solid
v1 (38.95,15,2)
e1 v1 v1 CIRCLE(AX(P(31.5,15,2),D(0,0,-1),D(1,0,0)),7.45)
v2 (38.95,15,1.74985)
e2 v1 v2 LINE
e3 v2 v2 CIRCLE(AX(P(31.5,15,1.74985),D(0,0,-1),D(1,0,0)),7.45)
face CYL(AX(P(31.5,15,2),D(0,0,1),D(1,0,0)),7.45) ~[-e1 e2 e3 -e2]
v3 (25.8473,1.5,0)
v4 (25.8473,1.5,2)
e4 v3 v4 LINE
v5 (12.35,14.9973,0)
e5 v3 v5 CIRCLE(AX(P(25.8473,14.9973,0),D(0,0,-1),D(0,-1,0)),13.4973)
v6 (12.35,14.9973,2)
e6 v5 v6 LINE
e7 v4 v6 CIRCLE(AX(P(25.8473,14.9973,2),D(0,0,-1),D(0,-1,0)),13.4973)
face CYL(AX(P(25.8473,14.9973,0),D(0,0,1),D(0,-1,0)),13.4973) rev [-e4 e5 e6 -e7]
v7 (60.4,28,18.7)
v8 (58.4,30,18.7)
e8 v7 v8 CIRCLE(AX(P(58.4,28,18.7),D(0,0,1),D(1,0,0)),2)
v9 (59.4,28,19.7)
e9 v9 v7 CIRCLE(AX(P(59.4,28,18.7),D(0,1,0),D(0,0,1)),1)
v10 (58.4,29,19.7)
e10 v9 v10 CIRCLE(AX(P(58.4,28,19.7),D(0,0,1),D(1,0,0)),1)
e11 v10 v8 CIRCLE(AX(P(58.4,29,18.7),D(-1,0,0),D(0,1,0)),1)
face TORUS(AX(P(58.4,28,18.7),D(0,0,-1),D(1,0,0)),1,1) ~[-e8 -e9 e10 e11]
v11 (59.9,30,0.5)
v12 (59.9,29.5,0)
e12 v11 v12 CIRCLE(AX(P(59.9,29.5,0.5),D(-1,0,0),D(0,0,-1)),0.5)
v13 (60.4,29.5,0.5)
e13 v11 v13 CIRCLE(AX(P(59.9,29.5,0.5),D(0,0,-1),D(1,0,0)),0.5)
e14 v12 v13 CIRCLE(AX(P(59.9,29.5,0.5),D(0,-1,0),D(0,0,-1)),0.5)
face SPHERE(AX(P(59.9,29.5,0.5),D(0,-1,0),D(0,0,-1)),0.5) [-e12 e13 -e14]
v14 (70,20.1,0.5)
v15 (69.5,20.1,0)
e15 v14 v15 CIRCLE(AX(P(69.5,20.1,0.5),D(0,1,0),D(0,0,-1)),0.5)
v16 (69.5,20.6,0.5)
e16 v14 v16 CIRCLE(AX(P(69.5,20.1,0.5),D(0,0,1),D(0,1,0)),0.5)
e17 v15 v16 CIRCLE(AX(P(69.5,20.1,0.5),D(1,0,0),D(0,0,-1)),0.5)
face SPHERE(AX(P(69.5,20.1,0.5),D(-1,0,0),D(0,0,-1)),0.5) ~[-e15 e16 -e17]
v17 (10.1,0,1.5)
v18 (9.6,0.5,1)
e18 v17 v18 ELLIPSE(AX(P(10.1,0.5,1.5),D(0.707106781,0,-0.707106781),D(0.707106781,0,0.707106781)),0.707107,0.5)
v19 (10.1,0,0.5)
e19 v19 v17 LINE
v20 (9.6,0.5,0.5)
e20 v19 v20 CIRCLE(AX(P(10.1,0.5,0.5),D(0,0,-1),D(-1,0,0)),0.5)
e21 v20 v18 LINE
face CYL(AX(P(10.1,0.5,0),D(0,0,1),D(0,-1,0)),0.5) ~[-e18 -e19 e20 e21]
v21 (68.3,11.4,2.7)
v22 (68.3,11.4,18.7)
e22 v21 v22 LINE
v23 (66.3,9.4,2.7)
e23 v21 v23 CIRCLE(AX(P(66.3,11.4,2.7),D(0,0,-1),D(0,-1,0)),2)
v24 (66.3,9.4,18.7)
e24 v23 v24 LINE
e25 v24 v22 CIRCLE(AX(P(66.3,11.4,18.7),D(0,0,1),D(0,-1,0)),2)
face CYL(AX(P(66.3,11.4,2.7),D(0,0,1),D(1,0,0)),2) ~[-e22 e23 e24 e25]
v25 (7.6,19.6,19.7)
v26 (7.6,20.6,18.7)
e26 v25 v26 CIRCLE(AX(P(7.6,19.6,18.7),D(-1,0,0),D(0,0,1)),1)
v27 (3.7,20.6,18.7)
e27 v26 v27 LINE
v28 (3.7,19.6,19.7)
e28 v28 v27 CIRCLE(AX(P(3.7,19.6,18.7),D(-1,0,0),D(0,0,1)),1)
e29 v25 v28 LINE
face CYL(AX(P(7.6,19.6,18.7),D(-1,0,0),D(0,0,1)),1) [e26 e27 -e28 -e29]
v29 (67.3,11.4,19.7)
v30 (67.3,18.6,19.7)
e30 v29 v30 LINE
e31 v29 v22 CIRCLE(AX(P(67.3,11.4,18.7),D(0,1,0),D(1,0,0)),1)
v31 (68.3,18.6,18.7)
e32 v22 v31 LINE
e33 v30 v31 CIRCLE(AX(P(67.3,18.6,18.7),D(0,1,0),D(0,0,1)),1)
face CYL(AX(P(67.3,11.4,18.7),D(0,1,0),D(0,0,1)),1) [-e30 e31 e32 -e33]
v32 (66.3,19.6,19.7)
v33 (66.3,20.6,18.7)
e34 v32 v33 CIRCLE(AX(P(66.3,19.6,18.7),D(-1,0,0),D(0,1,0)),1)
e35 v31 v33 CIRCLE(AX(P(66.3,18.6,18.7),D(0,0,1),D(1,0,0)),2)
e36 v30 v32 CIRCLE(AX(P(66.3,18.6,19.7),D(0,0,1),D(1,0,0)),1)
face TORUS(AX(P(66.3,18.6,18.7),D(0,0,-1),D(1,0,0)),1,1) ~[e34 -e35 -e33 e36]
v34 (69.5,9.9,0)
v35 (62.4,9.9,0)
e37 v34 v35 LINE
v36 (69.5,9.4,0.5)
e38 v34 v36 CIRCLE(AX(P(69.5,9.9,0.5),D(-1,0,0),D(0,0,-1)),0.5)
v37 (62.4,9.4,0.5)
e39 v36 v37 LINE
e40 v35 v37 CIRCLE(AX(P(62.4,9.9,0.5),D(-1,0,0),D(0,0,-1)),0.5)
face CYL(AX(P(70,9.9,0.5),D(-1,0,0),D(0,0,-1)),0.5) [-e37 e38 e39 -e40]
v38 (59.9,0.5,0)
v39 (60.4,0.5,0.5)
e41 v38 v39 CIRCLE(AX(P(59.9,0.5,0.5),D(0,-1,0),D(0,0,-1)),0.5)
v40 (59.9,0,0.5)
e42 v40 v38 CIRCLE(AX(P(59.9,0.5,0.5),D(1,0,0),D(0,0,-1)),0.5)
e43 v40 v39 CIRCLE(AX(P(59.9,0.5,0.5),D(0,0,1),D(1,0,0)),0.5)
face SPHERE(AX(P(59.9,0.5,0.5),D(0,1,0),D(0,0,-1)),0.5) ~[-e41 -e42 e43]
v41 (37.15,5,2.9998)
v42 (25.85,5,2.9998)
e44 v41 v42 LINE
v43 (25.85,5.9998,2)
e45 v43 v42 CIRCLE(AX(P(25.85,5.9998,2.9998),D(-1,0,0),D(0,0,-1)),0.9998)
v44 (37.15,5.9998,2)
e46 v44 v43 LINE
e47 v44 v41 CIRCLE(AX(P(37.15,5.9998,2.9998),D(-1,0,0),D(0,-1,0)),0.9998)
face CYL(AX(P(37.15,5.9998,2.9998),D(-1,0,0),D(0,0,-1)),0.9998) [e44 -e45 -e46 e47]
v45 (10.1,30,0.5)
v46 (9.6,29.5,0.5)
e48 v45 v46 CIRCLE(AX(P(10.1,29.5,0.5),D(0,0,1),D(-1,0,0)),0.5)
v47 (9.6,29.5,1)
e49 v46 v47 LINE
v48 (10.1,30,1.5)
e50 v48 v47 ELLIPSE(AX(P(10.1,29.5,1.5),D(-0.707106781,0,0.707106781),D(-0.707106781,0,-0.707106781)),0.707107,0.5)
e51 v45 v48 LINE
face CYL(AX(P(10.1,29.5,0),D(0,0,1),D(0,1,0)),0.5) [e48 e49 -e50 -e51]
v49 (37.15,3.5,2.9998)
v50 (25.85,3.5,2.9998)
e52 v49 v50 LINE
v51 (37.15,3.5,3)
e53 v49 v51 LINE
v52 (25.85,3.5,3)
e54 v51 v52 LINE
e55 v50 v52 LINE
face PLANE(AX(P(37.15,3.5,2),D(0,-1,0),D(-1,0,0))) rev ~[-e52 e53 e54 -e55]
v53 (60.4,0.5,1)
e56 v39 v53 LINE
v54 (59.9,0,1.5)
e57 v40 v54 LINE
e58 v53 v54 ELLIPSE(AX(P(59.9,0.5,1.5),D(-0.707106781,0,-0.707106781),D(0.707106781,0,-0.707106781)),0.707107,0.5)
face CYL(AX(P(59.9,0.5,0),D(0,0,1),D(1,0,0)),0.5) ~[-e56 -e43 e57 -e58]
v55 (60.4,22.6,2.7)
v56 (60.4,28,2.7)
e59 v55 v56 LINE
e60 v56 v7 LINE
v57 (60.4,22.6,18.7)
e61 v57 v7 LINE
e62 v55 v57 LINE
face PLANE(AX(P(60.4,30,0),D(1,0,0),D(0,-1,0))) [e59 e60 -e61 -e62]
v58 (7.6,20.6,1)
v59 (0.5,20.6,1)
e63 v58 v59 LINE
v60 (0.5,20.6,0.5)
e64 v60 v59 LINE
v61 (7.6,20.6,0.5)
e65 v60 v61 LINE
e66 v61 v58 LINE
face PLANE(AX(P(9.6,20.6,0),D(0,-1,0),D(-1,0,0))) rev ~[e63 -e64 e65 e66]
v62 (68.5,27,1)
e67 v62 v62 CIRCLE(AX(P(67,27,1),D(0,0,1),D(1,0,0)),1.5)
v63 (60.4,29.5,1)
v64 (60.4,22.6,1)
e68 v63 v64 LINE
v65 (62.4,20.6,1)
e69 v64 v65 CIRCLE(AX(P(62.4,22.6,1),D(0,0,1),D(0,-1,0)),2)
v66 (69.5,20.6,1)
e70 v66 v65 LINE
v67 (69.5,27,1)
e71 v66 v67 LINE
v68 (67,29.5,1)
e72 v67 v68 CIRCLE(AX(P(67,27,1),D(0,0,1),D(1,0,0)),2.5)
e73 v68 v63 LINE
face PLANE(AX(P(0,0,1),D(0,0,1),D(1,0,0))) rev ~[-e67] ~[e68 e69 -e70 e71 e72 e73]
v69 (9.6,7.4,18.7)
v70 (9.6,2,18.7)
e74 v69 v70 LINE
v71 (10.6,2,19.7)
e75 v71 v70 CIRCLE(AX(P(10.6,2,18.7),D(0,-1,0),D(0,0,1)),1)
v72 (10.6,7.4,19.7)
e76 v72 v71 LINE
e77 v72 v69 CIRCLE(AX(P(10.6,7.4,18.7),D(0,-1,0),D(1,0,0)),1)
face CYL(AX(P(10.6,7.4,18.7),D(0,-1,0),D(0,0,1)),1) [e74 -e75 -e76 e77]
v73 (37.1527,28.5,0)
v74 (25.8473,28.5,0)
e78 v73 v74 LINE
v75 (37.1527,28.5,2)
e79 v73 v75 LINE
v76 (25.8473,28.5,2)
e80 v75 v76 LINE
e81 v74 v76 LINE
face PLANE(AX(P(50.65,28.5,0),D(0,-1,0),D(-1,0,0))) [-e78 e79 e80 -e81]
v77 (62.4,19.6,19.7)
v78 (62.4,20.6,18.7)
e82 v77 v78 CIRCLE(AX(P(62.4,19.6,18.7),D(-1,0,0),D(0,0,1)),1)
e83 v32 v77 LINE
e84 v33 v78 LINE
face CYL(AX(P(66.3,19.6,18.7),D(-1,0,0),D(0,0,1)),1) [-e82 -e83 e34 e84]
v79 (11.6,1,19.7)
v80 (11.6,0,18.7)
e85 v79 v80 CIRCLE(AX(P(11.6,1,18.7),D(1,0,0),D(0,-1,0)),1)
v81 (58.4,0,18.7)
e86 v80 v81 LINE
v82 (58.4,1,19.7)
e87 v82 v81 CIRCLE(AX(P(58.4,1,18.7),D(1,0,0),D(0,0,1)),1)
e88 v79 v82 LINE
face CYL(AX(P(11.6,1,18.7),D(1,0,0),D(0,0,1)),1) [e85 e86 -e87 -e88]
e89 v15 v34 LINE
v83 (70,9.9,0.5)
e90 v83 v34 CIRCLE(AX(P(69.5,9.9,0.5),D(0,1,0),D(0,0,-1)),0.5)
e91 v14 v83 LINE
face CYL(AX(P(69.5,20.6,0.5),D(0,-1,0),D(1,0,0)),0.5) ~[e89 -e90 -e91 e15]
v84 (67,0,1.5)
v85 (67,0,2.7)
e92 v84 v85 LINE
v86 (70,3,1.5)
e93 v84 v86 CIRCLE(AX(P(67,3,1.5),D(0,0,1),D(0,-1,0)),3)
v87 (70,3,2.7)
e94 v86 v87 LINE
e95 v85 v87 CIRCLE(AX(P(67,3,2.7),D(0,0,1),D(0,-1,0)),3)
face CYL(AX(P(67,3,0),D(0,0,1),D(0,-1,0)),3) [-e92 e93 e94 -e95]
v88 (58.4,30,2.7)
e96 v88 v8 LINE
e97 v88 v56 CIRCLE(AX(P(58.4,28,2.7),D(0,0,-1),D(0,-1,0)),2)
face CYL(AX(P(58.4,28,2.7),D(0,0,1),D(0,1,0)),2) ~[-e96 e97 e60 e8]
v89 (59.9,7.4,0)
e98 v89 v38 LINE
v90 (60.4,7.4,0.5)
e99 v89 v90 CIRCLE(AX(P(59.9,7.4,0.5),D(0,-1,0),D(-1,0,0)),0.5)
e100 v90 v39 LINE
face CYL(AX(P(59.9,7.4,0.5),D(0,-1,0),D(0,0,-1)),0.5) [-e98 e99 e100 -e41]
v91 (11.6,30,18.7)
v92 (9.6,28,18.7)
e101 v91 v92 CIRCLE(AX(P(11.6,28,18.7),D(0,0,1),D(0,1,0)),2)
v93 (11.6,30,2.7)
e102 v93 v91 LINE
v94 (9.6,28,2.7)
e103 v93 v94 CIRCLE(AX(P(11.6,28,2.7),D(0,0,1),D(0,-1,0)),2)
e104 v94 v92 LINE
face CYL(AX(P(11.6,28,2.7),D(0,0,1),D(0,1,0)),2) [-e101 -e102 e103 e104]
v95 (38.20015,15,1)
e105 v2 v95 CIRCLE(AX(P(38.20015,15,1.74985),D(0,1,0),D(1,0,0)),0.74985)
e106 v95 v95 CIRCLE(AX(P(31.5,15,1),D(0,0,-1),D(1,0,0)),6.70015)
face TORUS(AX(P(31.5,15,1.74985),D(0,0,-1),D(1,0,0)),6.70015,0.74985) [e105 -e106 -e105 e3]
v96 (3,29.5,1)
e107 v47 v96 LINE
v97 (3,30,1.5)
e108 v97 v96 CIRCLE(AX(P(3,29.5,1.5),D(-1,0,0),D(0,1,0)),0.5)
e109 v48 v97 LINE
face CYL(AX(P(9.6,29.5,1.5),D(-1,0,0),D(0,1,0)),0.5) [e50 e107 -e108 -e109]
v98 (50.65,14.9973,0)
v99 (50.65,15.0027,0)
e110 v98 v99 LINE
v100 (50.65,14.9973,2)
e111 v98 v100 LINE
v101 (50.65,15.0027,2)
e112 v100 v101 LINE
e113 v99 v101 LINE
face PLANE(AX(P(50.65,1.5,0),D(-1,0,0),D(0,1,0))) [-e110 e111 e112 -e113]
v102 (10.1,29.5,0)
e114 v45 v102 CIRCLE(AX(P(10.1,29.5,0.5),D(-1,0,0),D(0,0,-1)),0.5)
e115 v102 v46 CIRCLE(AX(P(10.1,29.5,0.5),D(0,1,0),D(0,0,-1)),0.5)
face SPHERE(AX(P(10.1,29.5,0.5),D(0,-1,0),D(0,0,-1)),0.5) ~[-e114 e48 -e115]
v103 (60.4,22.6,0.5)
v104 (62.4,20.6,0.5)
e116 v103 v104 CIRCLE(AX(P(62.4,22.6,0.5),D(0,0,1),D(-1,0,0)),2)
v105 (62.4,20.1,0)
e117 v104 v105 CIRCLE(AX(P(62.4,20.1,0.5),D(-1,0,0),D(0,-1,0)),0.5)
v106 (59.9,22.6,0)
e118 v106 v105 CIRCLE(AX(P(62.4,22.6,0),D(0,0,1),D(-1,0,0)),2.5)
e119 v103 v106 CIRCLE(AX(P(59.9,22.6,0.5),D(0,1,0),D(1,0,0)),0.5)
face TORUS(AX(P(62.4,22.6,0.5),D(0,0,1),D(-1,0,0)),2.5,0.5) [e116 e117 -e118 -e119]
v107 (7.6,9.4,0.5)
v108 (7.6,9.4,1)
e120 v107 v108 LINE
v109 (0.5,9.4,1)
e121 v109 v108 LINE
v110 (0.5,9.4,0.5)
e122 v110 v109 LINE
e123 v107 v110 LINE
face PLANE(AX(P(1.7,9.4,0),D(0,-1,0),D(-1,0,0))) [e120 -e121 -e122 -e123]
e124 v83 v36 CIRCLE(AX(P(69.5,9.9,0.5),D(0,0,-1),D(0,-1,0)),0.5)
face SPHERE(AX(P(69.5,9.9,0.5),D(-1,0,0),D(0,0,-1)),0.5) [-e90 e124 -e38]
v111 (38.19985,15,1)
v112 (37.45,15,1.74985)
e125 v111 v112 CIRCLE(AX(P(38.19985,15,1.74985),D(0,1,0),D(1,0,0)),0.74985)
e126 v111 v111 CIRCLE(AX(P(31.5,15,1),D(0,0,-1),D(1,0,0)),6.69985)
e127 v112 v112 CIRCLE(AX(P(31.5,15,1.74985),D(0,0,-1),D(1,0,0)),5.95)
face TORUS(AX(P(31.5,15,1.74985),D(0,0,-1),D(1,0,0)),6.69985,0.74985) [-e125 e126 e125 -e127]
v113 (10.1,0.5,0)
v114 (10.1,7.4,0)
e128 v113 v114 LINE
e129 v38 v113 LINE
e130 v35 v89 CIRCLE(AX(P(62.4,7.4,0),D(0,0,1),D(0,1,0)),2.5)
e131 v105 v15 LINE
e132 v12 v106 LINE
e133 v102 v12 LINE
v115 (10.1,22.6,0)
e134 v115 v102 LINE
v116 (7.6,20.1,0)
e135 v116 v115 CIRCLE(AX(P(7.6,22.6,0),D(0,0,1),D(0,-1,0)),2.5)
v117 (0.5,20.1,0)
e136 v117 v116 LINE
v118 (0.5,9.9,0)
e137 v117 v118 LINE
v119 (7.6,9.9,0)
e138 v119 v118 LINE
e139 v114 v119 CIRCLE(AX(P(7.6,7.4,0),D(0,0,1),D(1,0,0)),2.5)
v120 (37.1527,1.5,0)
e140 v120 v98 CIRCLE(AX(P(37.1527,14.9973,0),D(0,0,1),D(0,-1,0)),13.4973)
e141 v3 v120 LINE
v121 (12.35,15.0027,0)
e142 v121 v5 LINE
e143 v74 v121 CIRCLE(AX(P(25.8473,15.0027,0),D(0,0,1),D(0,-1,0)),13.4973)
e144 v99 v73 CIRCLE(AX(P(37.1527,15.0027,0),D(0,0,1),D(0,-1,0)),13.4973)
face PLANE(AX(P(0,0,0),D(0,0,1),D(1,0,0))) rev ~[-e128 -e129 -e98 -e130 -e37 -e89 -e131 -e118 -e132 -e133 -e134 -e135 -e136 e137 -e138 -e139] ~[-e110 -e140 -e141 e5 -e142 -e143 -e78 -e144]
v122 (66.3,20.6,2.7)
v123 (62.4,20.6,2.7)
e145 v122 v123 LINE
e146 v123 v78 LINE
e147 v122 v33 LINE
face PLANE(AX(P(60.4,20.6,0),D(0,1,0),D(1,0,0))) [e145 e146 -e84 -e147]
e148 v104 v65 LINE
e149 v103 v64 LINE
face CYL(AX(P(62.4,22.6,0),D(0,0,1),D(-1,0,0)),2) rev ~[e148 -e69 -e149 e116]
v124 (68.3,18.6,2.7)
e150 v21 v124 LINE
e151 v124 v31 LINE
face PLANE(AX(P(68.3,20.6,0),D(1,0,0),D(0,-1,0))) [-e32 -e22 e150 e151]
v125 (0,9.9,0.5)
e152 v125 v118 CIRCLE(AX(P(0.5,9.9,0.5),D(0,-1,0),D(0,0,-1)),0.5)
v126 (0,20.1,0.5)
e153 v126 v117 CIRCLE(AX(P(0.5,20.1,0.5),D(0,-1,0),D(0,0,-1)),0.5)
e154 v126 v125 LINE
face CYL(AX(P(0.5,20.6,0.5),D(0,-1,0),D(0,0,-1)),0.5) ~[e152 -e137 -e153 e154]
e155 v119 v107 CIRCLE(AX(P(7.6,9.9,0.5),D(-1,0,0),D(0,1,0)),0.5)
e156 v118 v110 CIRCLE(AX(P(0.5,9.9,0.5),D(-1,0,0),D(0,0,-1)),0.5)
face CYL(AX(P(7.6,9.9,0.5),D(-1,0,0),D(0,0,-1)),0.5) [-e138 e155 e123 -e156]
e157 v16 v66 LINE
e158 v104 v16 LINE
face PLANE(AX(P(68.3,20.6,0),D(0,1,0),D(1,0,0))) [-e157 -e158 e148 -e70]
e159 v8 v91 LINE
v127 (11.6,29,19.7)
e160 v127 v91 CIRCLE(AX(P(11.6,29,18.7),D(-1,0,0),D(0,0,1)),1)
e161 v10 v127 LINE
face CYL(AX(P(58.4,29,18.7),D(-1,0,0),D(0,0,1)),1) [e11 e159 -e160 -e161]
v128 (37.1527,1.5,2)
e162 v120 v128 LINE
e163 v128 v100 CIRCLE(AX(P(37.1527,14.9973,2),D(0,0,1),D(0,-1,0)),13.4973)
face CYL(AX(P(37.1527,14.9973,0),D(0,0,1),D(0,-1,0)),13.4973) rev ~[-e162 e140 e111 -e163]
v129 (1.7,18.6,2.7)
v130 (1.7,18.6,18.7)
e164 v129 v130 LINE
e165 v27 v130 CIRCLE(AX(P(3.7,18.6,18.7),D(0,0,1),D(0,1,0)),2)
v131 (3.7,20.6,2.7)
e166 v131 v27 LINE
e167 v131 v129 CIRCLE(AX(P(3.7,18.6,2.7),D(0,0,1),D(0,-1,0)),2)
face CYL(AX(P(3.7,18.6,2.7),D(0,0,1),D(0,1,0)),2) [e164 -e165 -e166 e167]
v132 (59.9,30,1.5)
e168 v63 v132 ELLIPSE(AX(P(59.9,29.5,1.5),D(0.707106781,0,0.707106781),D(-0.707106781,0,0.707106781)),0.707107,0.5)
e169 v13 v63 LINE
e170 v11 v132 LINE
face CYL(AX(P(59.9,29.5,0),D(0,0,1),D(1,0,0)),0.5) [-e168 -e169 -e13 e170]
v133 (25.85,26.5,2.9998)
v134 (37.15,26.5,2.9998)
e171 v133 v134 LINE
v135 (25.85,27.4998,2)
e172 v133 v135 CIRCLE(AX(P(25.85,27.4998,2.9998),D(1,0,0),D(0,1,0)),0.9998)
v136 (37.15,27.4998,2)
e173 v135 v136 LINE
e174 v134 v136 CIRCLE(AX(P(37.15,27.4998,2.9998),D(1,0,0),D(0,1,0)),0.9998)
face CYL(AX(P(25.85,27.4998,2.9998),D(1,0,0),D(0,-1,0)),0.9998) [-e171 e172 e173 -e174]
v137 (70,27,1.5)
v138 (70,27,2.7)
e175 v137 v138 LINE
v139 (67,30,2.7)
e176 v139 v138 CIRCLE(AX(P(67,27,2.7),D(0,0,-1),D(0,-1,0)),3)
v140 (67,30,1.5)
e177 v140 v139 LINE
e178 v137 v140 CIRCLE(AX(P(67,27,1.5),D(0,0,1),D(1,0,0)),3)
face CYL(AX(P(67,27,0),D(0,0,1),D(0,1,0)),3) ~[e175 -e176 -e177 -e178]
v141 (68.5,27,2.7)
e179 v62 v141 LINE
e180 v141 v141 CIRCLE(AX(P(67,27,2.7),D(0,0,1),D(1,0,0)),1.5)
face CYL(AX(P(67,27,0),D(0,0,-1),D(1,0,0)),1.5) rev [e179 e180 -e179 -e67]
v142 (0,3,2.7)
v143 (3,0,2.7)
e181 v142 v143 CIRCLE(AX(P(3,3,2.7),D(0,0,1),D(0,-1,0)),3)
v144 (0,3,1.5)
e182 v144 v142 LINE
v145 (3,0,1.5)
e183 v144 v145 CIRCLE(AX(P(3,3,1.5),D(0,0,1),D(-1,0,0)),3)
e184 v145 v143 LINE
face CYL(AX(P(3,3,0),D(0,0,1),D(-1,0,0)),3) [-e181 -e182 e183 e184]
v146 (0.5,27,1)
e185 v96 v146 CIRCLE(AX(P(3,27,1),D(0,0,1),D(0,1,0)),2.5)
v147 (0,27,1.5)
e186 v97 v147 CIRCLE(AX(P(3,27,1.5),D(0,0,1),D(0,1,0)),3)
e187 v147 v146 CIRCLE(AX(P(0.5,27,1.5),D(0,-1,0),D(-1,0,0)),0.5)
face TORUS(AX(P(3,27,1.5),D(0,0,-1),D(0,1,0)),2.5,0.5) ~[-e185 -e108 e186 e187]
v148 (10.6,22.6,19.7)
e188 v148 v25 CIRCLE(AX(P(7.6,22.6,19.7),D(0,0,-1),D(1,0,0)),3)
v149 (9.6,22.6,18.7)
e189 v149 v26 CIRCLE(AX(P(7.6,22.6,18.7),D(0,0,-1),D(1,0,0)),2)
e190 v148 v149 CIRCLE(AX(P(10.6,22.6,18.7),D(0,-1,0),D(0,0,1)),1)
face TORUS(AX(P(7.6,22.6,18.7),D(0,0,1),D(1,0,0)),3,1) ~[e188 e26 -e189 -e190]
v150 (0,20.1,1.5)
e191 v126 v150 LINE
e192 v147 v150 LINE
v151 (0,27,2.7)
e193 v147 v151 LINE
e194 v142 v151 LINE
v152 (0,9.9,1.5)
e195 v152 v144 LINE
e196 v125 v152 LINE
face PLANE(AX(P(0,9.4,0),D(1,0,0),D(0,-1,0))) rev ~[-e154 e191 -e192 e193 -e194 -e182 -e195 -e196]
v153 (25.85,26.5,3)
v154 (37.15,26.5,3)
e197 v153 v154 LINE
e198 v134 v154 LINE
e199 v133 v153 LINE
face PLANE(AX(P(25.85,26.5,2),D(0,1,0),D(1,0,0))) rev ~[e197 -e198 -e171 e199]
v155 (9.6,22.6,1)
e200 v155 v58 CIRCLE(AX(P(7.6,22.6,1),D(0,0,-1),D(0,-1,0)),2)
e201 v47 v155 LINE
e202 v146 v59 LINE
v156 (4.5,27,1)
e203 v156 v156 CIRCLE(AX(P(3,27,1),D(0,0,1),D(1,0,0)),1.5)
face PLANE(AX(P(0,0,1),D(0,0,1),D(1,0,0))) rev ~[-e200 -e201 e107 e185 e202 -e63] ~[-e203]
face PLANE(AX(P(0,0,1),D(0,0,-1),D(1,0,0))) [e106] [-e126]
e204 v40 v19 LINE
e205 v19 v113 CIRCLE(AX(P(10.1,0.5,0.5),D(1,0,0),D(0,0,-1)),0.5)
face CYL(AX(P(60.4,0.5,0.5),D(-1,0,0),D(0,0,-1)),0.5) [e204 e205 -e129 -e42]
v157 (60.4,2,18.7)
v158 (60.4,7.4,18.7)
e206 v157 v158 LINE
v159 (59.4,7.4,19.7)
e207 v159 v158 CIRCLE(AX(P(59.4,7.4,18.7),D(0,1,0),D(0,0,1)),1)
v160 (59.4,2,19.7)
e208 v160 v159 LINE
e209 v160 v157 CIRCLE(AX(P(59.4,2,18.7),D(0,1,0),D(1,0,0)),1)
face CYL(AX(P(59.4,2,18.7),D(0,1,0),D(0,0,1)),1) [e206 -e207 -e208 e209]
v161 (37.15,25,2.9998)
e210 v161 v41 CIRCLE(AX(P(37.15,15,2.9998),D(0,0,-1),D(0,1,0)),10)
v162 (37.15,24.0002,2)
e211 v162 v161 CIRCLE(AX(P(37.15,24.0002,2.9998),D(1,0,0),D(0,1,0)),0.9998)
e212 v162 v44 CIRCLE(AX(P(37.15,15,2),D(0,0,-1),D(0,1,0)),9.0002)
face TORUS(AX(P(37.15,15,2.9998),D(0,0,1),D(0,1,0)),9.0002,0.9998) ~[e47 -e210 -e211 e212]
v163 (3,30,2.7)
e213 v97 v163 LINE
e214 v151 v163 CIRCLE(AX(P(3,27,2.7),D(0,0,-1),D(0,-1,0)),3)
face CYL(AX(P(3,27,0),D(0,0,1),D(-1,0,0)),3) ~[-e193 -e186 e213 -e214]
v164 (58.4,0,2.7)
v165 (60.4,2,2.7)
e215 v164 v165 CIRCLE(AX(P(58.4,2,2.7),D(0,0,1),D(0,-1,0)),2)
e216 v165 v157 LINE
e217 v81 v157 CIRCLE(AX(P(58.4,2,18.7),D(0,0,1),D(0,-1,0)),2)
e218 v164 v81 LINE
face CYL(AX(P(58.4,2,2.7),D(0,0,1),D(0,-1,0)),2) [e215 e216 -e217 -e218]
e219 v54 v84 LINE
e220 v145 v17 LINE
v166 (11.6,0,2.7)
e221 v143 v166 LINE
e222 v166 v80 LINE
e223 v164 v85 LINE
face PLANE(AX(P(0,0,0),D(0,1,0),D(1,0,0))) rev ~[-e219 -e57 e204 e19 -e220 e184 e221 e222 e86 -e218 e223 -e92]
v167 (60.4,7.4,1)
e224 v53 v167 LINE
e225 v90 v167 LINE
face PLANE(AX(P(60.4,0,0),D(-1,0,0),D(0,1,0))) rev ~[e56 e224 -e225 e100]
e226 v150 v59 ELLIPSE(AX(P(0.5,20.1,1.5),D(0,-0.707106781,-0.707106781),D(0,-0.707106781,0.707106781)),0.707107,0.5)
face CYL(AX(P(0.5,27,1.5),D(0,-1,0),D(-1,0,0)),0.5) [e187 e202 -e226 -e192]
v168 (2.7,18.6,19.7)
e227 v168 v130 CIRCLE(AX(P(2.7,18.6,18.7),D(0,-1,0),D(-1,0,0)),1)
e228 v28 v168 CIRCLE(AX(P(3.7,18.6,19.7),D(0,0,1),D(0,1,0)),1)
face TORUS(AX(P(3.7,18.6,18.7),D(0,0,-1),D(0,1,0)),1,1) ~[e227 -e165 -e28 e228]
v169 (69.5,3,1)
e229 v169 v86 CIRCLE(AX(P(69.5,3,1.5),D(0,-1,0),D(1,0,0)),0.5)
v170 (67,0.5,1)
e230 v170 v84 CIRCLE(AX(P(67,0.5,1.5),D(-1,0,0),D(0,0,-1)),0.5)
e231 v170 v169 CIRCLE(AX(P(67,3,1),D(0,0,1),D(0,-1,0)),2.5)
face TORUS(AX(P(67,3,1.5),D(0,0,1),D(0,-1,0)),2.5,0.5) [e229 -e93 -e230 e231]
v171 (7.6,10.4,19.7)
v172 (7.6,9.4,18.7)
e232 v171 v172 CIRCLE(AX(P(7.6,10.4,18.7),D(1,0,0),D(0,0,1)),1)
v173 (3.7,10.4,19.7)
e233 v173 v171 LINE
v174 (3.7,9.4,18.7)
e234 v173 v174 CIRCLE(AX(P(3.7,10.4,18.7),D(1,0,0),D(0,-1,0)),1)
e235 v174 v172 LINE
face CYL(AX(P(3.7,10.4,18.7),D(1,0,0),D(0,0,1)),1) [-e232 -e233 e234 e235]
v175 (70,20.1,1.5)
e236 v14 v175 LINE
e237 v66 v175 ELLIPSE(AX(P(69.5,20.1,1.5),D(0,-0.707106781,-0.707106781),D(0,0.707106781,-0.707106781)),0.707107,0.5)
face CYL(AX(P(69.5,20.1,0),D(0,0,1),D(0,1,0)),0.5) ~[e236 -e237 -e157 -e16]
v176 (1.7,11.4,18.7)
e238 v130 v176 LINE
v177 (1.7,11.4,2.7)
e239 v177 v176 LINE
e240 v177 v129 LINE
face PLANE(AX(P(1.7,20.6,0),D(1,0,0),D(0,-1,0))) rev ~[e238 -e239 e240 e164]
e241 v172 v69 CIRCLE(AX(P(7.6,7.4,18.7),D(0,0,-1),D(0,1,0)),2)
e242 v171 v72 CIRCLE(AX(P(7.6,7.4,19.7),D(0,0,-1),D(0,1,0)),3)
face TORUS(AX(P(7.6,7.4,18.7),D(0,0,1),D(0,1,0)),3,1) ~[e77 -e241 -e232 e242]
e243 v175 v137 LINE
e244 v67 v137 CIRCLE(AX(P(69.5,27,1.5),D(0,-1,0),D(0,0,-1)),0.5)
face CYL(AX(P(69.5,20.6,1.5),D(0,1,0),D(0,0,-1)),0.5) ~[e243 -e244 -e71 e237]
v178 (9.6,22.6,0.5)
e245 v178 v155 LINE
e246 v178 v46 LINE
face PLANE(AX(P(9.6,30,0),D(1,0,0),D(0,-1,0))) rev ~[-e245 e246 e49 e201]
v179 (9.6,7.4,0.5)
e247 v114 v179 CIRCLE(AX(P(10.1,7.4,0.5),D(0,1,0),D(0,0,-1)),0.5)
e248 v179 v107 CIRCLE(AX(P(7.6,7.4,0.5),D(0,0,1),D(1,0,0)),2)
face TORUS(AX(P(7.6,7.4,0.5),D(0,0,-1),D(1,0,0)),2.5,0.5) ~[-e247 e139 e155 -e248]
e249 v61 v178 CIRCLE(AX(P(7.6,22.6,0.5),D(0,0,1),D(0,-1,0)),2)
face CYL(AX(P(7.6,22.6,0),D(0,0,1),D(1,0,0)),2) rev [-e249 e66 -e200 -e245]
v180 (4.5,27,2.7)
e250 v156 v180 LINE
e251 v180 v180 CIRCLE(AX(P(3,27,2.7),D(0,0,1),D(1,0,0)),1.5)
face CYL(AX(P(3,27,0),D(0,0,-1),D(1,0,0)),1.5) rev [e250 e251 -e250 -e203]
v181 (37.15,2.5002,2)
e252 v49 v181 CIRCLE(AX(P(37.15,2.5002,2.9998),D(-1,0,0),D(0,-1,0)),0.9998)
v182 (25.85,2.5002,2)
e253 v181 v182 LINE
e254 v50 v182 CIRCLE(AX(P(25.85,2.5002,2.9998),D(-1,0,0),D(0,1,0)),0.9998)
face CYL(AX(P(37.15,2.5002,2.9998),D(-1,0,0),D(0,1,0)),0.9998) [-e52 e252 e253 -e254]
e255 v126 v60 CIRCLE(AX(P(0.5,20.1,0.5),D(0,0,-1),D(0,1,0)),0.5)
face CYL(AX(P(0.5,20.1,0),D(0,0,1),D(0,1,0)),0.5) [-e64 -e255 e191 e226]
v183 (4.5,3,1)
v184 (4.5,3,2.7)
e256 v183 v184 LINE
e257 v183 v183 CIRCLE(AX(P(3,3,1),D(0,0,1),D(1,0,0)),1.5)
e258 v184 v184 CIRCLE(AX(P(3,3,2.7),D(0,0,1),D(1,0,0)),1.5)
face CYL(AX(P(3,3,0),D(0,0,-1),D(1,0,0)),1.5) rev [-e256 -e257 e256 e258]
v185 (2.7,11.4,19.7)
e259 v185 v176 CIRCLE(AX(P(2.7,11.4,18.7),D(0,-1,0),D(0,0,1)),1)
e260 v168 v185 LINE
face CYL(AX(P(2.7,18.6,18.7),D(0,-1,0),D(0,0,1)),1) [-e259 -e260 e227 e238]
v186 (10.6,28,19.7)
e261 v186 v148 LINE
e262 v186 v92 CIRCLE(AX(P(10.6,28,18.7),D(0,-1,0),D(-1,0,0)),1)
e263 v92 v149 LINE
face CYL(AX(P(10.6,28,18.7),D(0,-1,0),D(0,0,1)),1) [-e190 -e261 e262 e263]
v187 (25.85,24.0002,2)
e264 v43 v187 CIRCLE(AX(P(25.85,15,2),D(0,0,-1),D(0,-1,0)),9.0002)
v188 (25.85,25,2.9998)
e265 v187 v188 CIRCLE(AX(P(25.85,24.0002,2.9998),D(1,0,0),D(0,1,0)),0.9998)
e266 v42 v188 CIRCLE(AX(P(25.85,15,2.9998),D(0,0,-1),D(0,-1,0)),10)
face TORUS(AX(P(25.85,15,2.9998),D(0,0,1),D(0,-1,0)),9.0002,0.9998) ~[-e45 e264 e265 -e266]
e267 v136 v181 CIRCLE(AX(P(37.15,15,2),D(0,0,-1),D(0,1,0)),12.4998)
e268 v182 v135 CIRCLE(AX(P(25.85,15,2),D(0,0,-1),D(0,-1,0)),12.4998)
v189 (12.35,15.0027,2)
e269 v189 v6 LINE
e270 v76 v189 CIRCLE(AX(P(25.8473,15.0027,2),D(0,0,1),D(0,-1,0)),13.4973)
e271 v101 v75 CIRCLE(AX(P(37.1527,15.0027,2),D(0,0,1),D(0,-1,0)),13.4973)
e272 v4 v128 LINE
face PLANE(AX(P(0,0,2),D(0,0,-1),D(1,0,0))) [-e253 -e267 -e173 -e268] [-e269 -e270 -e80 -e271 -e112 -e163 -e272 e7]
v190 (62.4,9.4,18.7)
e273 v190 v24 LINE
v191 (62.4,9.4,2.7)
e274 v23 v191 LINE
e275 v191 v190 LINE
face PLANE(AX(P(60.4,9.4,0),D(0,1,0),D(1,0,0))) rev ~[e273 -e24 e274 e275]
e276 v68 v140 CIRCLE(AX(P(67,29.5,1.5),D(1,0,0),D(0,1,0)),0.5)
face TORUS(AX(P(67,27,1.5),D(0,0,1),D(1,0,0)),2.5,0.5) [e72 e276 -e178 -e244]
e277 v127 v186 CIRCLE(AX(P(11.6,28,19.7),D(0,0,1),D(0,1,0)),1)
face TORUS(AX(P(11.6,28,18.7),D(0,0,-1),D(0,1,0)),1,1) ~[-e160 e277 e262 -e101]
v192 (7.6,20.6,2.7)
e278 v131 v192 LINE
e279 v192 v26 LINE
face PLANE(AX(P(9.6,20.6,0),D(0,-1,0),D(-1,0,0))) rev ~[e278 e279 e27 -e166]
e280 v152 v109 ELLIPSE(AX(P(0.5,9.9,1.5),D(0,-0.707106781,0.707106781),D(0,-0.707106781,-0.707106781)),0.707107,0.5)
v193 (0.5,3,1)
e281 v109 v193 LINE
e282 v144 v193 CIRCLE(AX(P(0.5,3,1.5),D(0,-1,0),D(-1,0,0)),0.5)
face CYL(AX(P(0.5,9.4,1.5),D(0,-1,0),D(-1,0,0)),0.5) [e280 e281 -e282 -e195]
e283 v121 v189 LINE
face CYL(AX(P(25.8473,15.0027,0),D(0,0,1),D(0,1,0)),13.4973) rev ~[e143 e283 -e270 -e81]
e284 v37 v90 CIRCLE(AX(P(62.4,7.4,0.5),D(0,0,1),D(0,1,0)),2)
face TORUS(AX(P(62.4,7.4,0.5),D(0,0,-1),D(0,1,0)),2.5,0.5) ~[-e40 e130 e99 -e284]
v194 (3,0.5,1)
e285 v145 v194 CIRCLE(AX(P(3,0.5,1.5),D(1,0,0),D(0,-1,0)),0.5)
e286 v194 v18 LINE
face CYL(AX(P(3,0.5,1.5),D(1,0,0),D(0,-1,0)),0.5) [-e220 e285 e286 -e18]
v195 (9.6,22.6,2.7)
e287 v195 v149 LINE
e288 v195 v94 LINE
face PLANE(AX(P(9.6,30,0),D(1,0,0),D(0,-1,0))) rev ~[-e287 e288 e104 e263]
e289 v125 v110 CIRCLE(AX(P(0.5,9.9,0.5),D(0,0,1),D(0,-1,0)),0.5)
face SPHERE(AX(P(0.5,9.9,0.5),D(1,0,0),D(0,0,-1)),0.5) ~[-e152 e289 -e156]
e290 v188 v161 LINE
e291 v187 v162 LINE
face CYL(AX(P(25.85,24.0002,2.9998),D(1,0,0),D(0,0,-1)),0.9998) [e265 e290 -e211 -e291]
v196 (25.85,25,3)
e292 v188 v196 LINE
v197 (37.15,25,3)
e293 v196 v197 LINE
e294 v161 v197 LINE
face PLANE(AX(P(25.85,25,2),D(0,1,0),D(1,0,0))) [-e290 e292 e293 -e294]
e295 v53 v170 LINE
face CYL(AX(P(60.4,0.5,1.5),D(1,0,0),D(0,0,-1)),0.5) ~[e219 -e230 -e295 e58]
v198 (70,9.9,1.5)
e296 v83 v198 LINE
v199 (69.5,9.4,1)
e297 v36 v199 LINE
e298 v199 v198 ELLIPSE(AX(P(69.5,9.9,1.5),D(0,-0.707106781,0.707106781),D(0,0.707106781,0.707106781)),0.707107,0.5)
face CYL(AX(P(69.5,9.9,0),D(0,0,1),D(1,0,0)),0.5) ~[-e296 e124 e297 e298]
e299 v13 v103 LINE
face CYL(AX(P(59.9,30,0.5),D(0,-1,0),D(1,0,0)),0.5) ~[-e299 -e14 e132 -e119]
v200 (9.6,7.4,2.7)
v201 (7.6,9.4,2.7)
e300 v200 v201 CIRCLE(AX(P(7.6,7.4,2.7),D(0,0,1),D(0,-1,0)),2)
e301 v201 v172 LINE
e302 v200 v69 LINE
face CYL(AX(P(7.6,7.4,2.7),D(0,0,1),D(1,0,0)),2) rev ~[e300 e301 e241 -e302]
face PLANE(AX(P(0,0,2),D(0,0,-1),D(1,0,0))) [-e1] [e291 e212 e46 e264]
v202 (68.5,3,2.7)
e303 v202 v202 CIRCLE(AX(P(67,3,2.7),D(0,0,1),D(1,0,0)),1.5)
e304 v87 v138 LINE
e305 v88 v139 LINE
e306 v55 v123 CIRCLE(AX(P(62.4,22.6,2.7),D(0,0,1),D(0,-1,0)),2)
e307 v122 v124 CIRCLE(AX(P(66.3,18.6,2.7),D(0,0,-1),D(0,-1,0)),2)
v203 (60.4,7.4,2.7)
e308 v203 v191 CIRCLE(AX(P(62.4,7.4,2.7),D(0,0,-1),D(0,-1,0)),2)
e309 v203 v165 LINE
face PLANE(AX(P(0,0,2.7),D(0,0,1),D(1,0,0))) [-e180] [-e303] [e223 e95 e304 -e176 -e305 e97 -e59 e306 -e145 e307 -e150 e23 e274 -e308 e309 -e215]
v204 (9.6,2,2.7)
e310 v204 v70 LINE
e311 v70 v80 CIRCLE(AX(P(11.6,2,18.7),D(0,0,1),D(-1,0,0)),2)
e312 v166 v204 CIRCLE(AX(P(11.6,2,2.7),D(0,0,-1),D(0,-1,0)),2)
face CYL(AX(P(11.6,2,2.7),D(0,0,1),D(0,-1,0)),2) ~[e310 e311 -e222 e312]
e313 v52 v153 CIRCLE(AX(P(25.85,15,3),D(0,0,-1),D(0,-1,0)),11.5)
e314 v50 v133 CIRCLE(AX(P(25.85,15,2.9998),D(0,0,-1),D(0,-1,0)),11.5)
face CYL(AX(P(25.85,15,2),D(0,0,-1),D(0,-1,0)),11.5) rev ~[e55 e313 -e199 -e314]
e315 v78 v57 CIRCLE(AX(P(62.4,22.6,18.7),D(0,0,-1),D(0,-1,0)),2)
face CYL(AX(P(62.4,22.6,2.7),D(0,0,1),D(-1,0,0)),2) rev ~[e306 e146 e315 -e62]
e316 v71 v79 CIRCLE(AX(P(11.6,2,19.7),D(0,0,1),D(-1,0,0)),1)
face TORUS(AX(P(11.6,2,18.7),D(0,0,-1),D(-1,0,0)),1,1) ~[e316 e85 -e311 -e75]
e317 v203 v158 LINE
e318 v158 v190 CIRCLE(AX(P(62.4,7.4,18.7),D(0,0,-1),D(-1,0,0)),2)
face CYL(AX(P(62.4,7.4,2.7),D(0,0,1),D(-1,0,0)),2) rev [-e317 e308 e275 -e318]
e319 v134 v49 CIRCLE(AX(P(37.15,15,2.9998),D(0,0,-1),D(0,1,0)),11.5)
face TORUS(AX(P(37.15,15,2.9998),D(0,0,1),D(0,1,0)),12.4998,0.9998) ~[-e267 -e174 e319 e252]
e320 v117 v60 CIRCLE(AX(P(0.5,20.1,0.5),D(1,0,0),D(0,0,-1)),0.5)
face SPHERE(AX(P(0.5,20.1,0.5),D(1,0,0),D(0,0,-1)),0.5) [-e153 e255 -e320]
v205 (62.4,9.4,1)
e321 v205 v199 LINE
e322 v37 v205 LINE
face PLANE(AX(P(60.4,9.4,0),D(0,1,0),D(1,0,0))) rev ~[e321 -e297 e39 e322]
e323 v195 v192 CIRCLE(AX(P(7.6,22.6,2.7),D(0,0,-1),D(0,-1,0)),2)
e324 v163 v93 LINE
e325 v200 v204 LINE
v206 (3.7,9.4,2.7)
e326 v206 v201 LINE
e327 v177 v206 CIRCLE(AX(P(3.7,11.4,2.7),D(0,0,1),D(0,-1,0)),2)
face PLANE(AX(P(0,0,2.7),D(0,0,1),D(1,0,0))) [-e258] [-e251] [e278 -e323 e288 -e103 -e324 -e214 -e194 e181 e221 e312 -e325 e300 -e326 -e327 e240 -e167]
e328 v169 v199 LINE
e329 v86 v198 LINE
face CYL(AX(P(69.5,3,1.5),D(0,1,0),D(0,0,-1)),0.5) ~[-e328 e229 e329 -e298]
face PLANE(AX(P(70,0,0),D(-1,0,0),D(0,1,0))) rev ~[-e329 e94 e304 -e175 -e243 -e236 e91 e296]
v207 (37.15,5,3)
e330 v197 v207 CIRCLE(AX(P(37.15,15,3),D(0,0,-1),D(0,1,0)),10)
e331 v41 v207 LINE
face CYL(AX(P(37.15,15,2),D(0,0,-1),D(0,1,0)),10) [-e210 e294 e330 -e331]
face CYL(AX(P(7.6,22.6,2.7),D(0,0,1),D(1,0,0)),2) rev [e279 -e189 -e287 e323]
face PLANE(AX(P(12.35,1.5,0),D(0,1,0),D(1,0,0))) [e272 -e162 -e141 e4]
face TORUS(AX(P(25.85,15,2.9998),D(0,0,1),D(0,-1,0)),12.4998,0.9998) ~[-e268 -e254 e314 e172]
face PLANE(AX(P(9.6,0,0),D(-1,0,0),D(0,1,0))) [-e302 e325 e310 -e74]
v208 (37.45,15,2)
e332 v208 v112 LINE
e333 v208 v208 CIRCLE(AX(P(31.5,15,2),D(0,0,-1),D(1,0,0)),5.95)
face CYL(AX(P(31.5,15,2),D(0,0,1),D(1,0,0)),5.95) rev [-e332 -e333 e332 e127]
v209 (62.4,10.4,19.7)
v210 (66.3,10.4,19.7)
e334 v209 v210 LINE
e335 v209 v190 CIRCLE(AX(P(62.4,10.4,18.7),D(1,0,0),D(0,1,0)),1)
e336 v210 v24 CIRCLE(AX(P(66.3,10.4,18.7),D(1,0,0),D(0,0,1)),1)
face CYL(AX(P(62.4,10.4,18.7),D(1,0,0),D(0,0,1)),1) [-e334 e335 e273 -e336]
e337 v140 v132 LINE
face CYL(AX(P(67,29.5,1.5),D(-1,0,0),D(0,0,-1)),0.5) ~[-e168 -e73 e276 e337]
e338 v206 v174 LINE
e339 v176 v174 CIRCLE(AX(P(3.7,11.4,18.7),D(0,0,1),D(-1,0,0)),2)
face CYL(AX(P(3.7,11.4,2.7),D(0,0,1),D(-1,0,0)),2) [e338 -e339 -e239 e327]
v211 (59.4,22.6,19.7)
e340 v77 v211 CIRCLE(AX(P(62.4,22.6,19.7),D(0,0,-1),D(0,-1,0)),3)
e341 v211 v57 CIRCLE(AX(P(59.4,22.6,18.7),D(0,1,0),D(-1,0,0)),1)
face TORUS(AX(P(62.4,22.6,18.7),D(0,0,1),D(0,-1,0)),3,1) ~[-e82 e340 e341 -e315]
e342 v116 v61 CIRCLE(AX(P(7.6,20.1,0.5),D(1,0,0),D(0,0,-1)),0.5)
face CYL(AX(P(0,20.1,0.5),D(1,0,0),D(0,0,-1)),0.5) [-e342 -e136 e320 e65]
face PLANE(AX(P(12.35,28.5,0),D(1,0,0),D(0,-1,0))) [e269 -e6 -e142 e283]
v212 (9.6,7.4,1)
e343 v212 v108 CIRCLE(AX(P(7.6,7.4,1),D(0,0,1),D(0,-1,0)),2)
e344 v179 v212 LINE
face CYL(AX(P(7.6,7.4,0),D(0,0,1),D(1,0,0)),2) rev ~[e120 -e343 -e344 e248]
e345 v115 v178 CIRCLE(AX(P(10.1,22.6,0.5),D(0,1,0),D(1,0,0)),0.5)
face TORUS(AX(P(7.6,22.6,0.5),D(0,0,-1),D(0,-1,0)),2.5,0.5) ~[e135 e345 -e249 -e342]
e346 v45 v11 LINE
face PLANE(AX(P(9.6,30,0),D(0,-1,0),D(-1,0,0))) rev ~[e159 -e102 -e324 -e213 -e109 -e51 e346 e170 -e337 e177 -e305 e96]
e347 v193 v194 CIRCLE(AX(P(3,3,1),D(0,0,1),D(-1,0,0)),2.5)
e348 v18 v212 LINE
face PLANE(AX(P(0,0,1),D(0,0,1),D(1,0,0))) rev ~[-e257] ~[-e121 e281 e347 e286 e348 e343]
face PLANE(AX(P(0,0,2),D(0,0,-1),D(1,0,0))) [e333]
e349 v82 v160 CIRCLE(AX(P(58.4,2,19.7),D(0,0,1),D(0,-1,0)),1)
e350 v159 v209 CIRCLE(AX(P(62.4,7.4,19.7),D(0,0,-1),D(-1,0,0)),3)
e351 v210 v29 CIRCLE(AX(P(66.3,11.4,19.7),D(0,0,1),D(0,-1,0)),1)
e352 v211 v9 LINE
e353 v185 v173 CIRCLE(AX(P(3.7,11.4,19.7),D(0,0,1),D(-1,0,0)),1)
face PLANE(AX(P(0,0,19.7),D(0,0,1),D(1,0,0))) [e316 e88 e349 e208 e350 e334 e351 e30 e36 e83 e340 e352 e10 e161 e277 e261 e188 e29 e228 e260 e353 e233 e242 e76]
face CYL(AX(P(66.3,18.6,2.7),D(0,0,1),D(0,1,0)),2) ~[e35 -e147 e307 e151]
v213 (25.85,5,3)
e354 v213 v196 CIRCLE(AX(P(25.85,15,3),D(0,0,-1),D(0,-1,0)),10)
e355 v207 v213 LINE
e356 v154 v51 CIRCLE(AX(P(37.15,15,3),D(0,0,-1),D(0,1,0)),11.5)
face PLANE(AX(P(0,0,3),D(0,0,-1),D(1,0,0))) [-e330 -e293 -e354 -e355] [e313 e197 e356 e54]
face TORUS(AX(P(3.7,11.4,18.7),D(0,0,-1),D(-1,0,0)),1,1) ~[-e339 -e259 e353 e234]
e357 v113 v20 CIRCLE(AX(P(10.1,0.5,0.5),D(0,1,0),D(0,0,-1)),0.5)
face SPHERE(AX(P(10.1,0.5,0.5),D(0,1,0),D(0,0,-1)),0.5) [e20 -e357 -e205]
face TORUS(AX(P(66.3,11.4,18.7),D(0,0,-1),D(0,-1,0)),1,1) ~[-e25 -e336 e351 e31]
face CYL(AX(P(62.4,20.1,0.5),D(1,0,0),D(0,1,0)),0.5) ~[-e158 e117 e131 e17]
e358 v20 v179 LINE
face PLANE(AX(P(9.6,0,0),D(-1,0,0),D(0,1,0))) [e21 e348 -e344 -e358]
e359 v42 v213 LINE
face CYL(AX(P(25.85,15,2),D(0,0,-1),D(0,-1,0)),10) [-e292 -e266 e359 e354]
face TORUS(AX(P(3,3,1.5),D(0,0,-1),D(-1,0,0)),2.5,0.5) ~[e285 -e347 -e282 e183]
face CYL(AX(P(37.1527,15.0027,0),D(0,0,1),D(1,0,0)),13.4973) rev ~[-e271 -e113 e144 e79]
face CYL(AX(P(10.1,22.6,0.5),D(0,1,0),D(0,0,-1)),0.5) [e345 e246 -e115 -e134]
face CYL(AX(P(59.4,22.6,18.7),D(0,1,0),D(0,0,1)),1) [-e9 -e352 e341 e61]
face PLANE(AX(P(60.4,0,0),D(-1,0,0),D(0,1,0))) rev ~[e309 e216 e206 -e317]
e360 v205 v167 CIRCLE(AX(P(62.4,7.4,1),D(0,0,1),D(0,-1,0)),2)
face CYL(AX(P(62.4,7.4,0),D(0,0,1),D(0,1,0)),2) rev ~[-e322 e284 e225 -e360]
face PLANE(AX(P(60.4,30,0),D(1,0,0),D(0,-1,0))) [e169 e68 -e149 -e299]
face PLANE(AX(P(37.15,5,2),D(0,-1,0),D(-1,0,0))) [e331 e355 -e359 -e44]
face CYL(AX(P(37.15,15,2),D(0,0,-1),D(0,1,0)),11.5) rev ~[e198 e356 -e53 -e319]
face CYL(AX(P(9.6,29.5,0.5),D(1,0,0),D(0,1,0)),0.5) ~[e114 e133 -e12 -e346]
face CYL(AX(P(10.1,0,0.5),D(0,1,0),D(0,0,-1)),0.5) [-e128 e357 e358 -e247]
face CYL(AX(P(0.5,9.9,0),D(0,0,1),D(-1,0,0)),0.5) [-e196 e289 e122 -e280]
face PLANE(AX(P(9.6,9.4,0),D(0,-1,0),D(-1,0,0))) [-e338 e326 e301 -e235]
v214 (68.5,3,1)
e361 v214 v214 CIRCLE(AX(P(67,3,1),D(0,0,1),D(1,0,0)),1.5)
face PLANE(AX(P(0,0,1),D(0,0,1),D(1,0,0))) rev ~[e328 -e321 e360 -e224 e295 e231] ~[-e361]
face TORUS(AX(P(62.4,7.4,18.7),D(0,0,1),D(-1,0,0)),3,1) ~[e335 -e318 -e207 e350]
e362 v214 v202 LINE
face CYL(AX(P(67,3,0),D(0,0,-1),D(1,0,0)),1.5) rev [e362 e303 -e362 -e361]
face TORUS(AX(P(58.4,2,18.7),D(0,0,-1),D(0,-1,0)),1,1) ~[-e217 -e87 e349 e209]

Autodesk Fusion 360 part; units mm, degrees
sketch "Sketch1" plane through (0, 0, 0) normal (0, 0, 1) x (1, 0, 0)
  line L0 (0, 0) -> (70, 0)
  line L1 (70, 0) -> (70, 30)
  line L2 (70, 30) -> (0, 30)
  line L3 (0, 30) -> (0, 0)
  line L4 (35, 30) -> (35, 0) construction
  line L5 (0, 15) -> (70, 15) construction
  line L6 (67, 3) -> (3, 3) construction
  line L7 (3, 3) -> (3, 27) construction
  line L8 (3, 27) -> (67, 27) construction
  line L9 (67, 27) -> (67, 3) construction
  line L10 (67, 3) -> (3, 27) construction
  line L11 (3, 3) -> (67, 27) construction
  circle A0 centre (3, 27) radius 1.5
  circle A1 centre (67, 27) radius 1.5
  circle A2 centre (3, 3) radius 1.5
  circle A3 centre (67, 3) radius 1.5
  line L12 (0, 30) -> (9.6, 30)
  line L13 (9.6, 30) -> (9.6, 20.6)
  line L14 (9.6, 20.6) -> (0, 20.6)
  line L15 (0, 20.6) -> (0, 30)
  line L16 (60.4, 20.6) -> (70, 20.6)
  line L17 (60.4, 30) -> (60.4, 20.6)
  line L18 (9.6, 0) -> (9.6, 9.4)
  line L19 (9.6, 9.4) -> (0, 9.4)
  line L20 (60.4, 0) -> (60.4, 9.4)
  line L21 (60.4, 9.4) -> (70, 9.4)
  line L22 (1.7, 20.6) -> (1.7, 9.4)
  line L23 (68.3, 20.6) -> (68.3, 9.4)
  point P0 (35, 15)
  dimension "d1" = 70
  dimension "d2" = 30
  dimension "d6" = 64
  dimension "d7" = 24
  dimension "d8" = 3
  dimension "d9" = 9.6
  dimension "d10" = 9.4
  dimension "d14" = 1.7
extrude "Extrude1" add sketch "Sketch1" along normal blind 2.7
fillet "Fillet1" radius 3 4 edges at (70, 0, 1.35) (0, 30, 1.35) (70, 30, 1.35) (0, 0, 1.35)
extrude "Extrude2" add sketch "Sketch1" along normal blind 19.7 contours L0 L2 L13 L14 L16 L17 L18 L19 L20 L21 L22 L23
fillet "Fillet2" radius 2 12 edges at (60.4, 30, 11.2) (68.3, 9.4, 11.2) (60.4, 9.4, 11.2) (1.7, 20.6, 11.2) (9.6, 20.6, 11.2) (9.6, 30, 11.2) (68.3, 20.6, 11.2) (60.4, 0, 11.2) (60.4, 20.6, 11.2) (1.7, 9.4, 11.2) (9.6, 0, 11.2) (9.6, 9.4, 11.2)
fillet "Fillet3" radius 1 24 edges at (5.65, 20.6, 19.7) (9.0142, 21.1858, 19.7) (9.6, 25.3, 19.7) (10.1858, 29.4142, 19.7) (35, 30, 19.7) (59.8142, 29.4142, 19.7) (60.4, 25.3, 19.7) (60.9858, 21.1858, 19.7) (64.35, 20.6, 19.7) (67.7142, 20.0142, 19.7) (68.3, 15, 19.7) (67.7142, 9.9858, 19.7) (64.35, 9.4, 19.7) (60.9858, 8.8142, 19.7) (60.4, 4.7, 19.7) (59.8142, 0.5858, 19.7) (35, 0, 19.7) (10.1858, 0.5858, 19.7) (9.6, 4.7, 19.7) (9.0142, 8.8142, 19.7) (5.65, 9.4, 19.7) (2.2858, 9.9858, 19.7) (1.7, 15, 19.7) (2.2858, 20.0142, 19.7)
extrude "Extrude3" cut sketch "Sketch1" along normal blind 1 contours L0 L3 L18 L19 | L0 L1 L20 L21 | L2 L3 L12 L13 L14 L15 | L1 L2 L16 L17
fillet "Fillet4" radius 2 4 edges at (9.6, 20.6, 0.5) (9.6, 9.4, 0.5) (60.4, 9.4, 0.5) (60.4, 20.6, 0.5)
fillet "Fillet5" radius 0.5 36 edges at (66.2, 9.4, 0) (60.9858, 8.8142, 0) (60.4, 3.7, 0) (60.4, 26.3, 0) (60.9858, 21.1858, 0) (66.2, 20.6, 0) (9.6, 3.7, 0) (9.0142, 8.8142, 0) (3.8, 9.4, 0) (3.8, 20.6, 0) (9.0142, 21.1858, 0) (9.6, 26.3, 0) (35, 0, 0) (35, 30, 0) (6.3, 30, 1) (0.8787, 29.1213, 1) (0, 23.8, 1) (0, 6.2, 1) (0.8787, 0.8787, 1) (6.3, 0, 1) (63.7, 0, 1) (69.1213, 0.8787, 1) (70, 6.2, 1) (70, 23.8, 1) (69.1213, 29.1213, 1) (63.7, 30, 1) (70, 15, 0) (0, 15, 0) (70, 9.4, 0.5) (70, 20.6, 0.5) (0, 20.6, 0.5) (60.4, 30, 0.5) (0, 9.4, 0.5) (9.6, 0, 0.5) (9.6, 30, 0.5) (60.4, 0, 0.5)
sketch "Sketch2" plane through (0, 0, 0) normal (0, 0, -1) x (1, 0, 0)
  line L0 (59.9, -0.5) -> (10.1, -0.5)
  line L1 (10.1, -0.5) -> (10.1, -7.4)
  arc A0 (7.6, -9.9) -> (10.1, -7.4) centre (7.6, -7.4) ccw
  line L2 (7.6, -9.9) -> (0.5, -9.9)
  line L3 (0.5, -9.9) -> (0.5, -20.1)
  line L4 (0.5, -20.1) -> (7.6, -20.1)
  arc A1 (10.1, -22.6) -> (7.6, -20.1) centre (7.6, -22.6) ccw
  line L5 (10.1, -22.6) -> (10.1, -29.5)
  line L6 (10.1, -29.5) -> (59.9, -29.5)
  line L7 (59.9, -29.5) -> (59.9, -22.6)
  arc A2 (62.4, -20.1) -> (59.9, -22.6) centre (62.4, -22.6) ccw
  line L8 (62.4, -20.1) -> (69.5, -20.1)
  line L9 (69.5, -20.1) -> (69.5, -9.9)
  line L10 (69.5, -9.9) -> (62.4, -9.9)
  arc A3 (59.9, -7.4) -> (62.4, -9.9) centre (62.4, -7.4) ccw
  line L11 (59.9, -7.4) -> (59.9, -0.5)
  line L12 (69.5, -15) -> (0.5, -15) construction
  line L13 (12.35, -1.5) -> (50.65, -1.5)
  line L14 (50.65, -1.5) -> (50.65, -28.5)
  line L15 (50.65, -28.5) -> (12.35, -28.5)
  line L16 (12.35, -28.5) -> (12.35, -1.5)
  line L17 (12.35, -1.5) -> (50.65, -28.5) construction
  line L18 (50.65, -1.5) -> (12.35, -28.5) construction
  line L19 (0, -9.9) -> (0, -20.1)
  point P0 (31.5, -15)
  dimension "d24" = 38.3
  dimension "d25" = 27
  dimension "d26" = 31.5
extrude "Extrude4" cut sketch "Sketch2" against normal blind 2 contours L13 L14 L15 L16
fillet "Fillet6" radius 13.5 4 edges at (12.35, 1.5, 1) (12.35, 28.5, 1) (50.65, 1.5, 1) (50.65, 28.5, 1)
sketch "Sketch3" plane through (0, 0, 2) normal (0, 0, -1) x (1, 0, 0)
  arc A0 (37.15, -28.5) -> (37.15, -1.5) centre (37.15, -15) ccw
  line L0 (37.15, -1.5) -> (25.85, -1.5)
  arc A1 (25.85, -1.5) -> (25.85, -28.5) centre (25.85, -15) ccw
  line L1 (25.85, -28.5) -> (37.15, -28.5)
  line L2 (31.5, -1.5) -> (31.5, -28.5) construction
  line L3 (12.35, -15) -> (50.65, -15) construction
  circle A2 centre (31.5, -15) radius 7.45
  arc A3 (37.15, -26.5) -> (37.15, -3.5) centre (37.15, -15) ccw
  line L4 (37.15, -3.5) -> (25.85, -3.5)
  arc A4 (25.85, -3.5) -> (25.85, -26.5) centre (25.85, -15) ccw
  line L5 (25.85, -26.5) -> (37.15, -26.5)
  line L6 (25.85, -25) -> (37.15, -25)
  arc A5 (37.15, -25) -> (37.15, -5) centre (37.15, -15) ccw
  line L7 (37.15, -5) -> (25.85, -5)
  arc A6 (25.85, -5) -> (25.85, -25) centre (25.85, -15) ccw
  circle A7 centre (31.5, -15) radius 5.95
  dimension "d30" = 14.9
  dimension "d31" = 1.5
  dimension "d35" = 2
  dimension "d36" = 3.5
extrude "Extrude5" add sketch "Sketch3" along normal blind 1 contours A2
fillet "Fillet7" radius 0.75 2 edges at (25.9527, 12.8484, 1) (24.5542, 17.694, 1)
extrude "Extrude6" cut sketch "Sketch3" against normal blind 1 contours A3 L4 A4 L5
fillet "Fillet8" radius 1 8 edges at (48.65, 15, 2) (31.5, 26.5, 2) (14.35, 15, 2) (31.5, 3.5, 2) (47.15, 15, 2) (31.5, 5, 2) (15.85, 15, 2) (31.5, 25, 2)
equation "d11 = 2.7 mm + 17 mm"
